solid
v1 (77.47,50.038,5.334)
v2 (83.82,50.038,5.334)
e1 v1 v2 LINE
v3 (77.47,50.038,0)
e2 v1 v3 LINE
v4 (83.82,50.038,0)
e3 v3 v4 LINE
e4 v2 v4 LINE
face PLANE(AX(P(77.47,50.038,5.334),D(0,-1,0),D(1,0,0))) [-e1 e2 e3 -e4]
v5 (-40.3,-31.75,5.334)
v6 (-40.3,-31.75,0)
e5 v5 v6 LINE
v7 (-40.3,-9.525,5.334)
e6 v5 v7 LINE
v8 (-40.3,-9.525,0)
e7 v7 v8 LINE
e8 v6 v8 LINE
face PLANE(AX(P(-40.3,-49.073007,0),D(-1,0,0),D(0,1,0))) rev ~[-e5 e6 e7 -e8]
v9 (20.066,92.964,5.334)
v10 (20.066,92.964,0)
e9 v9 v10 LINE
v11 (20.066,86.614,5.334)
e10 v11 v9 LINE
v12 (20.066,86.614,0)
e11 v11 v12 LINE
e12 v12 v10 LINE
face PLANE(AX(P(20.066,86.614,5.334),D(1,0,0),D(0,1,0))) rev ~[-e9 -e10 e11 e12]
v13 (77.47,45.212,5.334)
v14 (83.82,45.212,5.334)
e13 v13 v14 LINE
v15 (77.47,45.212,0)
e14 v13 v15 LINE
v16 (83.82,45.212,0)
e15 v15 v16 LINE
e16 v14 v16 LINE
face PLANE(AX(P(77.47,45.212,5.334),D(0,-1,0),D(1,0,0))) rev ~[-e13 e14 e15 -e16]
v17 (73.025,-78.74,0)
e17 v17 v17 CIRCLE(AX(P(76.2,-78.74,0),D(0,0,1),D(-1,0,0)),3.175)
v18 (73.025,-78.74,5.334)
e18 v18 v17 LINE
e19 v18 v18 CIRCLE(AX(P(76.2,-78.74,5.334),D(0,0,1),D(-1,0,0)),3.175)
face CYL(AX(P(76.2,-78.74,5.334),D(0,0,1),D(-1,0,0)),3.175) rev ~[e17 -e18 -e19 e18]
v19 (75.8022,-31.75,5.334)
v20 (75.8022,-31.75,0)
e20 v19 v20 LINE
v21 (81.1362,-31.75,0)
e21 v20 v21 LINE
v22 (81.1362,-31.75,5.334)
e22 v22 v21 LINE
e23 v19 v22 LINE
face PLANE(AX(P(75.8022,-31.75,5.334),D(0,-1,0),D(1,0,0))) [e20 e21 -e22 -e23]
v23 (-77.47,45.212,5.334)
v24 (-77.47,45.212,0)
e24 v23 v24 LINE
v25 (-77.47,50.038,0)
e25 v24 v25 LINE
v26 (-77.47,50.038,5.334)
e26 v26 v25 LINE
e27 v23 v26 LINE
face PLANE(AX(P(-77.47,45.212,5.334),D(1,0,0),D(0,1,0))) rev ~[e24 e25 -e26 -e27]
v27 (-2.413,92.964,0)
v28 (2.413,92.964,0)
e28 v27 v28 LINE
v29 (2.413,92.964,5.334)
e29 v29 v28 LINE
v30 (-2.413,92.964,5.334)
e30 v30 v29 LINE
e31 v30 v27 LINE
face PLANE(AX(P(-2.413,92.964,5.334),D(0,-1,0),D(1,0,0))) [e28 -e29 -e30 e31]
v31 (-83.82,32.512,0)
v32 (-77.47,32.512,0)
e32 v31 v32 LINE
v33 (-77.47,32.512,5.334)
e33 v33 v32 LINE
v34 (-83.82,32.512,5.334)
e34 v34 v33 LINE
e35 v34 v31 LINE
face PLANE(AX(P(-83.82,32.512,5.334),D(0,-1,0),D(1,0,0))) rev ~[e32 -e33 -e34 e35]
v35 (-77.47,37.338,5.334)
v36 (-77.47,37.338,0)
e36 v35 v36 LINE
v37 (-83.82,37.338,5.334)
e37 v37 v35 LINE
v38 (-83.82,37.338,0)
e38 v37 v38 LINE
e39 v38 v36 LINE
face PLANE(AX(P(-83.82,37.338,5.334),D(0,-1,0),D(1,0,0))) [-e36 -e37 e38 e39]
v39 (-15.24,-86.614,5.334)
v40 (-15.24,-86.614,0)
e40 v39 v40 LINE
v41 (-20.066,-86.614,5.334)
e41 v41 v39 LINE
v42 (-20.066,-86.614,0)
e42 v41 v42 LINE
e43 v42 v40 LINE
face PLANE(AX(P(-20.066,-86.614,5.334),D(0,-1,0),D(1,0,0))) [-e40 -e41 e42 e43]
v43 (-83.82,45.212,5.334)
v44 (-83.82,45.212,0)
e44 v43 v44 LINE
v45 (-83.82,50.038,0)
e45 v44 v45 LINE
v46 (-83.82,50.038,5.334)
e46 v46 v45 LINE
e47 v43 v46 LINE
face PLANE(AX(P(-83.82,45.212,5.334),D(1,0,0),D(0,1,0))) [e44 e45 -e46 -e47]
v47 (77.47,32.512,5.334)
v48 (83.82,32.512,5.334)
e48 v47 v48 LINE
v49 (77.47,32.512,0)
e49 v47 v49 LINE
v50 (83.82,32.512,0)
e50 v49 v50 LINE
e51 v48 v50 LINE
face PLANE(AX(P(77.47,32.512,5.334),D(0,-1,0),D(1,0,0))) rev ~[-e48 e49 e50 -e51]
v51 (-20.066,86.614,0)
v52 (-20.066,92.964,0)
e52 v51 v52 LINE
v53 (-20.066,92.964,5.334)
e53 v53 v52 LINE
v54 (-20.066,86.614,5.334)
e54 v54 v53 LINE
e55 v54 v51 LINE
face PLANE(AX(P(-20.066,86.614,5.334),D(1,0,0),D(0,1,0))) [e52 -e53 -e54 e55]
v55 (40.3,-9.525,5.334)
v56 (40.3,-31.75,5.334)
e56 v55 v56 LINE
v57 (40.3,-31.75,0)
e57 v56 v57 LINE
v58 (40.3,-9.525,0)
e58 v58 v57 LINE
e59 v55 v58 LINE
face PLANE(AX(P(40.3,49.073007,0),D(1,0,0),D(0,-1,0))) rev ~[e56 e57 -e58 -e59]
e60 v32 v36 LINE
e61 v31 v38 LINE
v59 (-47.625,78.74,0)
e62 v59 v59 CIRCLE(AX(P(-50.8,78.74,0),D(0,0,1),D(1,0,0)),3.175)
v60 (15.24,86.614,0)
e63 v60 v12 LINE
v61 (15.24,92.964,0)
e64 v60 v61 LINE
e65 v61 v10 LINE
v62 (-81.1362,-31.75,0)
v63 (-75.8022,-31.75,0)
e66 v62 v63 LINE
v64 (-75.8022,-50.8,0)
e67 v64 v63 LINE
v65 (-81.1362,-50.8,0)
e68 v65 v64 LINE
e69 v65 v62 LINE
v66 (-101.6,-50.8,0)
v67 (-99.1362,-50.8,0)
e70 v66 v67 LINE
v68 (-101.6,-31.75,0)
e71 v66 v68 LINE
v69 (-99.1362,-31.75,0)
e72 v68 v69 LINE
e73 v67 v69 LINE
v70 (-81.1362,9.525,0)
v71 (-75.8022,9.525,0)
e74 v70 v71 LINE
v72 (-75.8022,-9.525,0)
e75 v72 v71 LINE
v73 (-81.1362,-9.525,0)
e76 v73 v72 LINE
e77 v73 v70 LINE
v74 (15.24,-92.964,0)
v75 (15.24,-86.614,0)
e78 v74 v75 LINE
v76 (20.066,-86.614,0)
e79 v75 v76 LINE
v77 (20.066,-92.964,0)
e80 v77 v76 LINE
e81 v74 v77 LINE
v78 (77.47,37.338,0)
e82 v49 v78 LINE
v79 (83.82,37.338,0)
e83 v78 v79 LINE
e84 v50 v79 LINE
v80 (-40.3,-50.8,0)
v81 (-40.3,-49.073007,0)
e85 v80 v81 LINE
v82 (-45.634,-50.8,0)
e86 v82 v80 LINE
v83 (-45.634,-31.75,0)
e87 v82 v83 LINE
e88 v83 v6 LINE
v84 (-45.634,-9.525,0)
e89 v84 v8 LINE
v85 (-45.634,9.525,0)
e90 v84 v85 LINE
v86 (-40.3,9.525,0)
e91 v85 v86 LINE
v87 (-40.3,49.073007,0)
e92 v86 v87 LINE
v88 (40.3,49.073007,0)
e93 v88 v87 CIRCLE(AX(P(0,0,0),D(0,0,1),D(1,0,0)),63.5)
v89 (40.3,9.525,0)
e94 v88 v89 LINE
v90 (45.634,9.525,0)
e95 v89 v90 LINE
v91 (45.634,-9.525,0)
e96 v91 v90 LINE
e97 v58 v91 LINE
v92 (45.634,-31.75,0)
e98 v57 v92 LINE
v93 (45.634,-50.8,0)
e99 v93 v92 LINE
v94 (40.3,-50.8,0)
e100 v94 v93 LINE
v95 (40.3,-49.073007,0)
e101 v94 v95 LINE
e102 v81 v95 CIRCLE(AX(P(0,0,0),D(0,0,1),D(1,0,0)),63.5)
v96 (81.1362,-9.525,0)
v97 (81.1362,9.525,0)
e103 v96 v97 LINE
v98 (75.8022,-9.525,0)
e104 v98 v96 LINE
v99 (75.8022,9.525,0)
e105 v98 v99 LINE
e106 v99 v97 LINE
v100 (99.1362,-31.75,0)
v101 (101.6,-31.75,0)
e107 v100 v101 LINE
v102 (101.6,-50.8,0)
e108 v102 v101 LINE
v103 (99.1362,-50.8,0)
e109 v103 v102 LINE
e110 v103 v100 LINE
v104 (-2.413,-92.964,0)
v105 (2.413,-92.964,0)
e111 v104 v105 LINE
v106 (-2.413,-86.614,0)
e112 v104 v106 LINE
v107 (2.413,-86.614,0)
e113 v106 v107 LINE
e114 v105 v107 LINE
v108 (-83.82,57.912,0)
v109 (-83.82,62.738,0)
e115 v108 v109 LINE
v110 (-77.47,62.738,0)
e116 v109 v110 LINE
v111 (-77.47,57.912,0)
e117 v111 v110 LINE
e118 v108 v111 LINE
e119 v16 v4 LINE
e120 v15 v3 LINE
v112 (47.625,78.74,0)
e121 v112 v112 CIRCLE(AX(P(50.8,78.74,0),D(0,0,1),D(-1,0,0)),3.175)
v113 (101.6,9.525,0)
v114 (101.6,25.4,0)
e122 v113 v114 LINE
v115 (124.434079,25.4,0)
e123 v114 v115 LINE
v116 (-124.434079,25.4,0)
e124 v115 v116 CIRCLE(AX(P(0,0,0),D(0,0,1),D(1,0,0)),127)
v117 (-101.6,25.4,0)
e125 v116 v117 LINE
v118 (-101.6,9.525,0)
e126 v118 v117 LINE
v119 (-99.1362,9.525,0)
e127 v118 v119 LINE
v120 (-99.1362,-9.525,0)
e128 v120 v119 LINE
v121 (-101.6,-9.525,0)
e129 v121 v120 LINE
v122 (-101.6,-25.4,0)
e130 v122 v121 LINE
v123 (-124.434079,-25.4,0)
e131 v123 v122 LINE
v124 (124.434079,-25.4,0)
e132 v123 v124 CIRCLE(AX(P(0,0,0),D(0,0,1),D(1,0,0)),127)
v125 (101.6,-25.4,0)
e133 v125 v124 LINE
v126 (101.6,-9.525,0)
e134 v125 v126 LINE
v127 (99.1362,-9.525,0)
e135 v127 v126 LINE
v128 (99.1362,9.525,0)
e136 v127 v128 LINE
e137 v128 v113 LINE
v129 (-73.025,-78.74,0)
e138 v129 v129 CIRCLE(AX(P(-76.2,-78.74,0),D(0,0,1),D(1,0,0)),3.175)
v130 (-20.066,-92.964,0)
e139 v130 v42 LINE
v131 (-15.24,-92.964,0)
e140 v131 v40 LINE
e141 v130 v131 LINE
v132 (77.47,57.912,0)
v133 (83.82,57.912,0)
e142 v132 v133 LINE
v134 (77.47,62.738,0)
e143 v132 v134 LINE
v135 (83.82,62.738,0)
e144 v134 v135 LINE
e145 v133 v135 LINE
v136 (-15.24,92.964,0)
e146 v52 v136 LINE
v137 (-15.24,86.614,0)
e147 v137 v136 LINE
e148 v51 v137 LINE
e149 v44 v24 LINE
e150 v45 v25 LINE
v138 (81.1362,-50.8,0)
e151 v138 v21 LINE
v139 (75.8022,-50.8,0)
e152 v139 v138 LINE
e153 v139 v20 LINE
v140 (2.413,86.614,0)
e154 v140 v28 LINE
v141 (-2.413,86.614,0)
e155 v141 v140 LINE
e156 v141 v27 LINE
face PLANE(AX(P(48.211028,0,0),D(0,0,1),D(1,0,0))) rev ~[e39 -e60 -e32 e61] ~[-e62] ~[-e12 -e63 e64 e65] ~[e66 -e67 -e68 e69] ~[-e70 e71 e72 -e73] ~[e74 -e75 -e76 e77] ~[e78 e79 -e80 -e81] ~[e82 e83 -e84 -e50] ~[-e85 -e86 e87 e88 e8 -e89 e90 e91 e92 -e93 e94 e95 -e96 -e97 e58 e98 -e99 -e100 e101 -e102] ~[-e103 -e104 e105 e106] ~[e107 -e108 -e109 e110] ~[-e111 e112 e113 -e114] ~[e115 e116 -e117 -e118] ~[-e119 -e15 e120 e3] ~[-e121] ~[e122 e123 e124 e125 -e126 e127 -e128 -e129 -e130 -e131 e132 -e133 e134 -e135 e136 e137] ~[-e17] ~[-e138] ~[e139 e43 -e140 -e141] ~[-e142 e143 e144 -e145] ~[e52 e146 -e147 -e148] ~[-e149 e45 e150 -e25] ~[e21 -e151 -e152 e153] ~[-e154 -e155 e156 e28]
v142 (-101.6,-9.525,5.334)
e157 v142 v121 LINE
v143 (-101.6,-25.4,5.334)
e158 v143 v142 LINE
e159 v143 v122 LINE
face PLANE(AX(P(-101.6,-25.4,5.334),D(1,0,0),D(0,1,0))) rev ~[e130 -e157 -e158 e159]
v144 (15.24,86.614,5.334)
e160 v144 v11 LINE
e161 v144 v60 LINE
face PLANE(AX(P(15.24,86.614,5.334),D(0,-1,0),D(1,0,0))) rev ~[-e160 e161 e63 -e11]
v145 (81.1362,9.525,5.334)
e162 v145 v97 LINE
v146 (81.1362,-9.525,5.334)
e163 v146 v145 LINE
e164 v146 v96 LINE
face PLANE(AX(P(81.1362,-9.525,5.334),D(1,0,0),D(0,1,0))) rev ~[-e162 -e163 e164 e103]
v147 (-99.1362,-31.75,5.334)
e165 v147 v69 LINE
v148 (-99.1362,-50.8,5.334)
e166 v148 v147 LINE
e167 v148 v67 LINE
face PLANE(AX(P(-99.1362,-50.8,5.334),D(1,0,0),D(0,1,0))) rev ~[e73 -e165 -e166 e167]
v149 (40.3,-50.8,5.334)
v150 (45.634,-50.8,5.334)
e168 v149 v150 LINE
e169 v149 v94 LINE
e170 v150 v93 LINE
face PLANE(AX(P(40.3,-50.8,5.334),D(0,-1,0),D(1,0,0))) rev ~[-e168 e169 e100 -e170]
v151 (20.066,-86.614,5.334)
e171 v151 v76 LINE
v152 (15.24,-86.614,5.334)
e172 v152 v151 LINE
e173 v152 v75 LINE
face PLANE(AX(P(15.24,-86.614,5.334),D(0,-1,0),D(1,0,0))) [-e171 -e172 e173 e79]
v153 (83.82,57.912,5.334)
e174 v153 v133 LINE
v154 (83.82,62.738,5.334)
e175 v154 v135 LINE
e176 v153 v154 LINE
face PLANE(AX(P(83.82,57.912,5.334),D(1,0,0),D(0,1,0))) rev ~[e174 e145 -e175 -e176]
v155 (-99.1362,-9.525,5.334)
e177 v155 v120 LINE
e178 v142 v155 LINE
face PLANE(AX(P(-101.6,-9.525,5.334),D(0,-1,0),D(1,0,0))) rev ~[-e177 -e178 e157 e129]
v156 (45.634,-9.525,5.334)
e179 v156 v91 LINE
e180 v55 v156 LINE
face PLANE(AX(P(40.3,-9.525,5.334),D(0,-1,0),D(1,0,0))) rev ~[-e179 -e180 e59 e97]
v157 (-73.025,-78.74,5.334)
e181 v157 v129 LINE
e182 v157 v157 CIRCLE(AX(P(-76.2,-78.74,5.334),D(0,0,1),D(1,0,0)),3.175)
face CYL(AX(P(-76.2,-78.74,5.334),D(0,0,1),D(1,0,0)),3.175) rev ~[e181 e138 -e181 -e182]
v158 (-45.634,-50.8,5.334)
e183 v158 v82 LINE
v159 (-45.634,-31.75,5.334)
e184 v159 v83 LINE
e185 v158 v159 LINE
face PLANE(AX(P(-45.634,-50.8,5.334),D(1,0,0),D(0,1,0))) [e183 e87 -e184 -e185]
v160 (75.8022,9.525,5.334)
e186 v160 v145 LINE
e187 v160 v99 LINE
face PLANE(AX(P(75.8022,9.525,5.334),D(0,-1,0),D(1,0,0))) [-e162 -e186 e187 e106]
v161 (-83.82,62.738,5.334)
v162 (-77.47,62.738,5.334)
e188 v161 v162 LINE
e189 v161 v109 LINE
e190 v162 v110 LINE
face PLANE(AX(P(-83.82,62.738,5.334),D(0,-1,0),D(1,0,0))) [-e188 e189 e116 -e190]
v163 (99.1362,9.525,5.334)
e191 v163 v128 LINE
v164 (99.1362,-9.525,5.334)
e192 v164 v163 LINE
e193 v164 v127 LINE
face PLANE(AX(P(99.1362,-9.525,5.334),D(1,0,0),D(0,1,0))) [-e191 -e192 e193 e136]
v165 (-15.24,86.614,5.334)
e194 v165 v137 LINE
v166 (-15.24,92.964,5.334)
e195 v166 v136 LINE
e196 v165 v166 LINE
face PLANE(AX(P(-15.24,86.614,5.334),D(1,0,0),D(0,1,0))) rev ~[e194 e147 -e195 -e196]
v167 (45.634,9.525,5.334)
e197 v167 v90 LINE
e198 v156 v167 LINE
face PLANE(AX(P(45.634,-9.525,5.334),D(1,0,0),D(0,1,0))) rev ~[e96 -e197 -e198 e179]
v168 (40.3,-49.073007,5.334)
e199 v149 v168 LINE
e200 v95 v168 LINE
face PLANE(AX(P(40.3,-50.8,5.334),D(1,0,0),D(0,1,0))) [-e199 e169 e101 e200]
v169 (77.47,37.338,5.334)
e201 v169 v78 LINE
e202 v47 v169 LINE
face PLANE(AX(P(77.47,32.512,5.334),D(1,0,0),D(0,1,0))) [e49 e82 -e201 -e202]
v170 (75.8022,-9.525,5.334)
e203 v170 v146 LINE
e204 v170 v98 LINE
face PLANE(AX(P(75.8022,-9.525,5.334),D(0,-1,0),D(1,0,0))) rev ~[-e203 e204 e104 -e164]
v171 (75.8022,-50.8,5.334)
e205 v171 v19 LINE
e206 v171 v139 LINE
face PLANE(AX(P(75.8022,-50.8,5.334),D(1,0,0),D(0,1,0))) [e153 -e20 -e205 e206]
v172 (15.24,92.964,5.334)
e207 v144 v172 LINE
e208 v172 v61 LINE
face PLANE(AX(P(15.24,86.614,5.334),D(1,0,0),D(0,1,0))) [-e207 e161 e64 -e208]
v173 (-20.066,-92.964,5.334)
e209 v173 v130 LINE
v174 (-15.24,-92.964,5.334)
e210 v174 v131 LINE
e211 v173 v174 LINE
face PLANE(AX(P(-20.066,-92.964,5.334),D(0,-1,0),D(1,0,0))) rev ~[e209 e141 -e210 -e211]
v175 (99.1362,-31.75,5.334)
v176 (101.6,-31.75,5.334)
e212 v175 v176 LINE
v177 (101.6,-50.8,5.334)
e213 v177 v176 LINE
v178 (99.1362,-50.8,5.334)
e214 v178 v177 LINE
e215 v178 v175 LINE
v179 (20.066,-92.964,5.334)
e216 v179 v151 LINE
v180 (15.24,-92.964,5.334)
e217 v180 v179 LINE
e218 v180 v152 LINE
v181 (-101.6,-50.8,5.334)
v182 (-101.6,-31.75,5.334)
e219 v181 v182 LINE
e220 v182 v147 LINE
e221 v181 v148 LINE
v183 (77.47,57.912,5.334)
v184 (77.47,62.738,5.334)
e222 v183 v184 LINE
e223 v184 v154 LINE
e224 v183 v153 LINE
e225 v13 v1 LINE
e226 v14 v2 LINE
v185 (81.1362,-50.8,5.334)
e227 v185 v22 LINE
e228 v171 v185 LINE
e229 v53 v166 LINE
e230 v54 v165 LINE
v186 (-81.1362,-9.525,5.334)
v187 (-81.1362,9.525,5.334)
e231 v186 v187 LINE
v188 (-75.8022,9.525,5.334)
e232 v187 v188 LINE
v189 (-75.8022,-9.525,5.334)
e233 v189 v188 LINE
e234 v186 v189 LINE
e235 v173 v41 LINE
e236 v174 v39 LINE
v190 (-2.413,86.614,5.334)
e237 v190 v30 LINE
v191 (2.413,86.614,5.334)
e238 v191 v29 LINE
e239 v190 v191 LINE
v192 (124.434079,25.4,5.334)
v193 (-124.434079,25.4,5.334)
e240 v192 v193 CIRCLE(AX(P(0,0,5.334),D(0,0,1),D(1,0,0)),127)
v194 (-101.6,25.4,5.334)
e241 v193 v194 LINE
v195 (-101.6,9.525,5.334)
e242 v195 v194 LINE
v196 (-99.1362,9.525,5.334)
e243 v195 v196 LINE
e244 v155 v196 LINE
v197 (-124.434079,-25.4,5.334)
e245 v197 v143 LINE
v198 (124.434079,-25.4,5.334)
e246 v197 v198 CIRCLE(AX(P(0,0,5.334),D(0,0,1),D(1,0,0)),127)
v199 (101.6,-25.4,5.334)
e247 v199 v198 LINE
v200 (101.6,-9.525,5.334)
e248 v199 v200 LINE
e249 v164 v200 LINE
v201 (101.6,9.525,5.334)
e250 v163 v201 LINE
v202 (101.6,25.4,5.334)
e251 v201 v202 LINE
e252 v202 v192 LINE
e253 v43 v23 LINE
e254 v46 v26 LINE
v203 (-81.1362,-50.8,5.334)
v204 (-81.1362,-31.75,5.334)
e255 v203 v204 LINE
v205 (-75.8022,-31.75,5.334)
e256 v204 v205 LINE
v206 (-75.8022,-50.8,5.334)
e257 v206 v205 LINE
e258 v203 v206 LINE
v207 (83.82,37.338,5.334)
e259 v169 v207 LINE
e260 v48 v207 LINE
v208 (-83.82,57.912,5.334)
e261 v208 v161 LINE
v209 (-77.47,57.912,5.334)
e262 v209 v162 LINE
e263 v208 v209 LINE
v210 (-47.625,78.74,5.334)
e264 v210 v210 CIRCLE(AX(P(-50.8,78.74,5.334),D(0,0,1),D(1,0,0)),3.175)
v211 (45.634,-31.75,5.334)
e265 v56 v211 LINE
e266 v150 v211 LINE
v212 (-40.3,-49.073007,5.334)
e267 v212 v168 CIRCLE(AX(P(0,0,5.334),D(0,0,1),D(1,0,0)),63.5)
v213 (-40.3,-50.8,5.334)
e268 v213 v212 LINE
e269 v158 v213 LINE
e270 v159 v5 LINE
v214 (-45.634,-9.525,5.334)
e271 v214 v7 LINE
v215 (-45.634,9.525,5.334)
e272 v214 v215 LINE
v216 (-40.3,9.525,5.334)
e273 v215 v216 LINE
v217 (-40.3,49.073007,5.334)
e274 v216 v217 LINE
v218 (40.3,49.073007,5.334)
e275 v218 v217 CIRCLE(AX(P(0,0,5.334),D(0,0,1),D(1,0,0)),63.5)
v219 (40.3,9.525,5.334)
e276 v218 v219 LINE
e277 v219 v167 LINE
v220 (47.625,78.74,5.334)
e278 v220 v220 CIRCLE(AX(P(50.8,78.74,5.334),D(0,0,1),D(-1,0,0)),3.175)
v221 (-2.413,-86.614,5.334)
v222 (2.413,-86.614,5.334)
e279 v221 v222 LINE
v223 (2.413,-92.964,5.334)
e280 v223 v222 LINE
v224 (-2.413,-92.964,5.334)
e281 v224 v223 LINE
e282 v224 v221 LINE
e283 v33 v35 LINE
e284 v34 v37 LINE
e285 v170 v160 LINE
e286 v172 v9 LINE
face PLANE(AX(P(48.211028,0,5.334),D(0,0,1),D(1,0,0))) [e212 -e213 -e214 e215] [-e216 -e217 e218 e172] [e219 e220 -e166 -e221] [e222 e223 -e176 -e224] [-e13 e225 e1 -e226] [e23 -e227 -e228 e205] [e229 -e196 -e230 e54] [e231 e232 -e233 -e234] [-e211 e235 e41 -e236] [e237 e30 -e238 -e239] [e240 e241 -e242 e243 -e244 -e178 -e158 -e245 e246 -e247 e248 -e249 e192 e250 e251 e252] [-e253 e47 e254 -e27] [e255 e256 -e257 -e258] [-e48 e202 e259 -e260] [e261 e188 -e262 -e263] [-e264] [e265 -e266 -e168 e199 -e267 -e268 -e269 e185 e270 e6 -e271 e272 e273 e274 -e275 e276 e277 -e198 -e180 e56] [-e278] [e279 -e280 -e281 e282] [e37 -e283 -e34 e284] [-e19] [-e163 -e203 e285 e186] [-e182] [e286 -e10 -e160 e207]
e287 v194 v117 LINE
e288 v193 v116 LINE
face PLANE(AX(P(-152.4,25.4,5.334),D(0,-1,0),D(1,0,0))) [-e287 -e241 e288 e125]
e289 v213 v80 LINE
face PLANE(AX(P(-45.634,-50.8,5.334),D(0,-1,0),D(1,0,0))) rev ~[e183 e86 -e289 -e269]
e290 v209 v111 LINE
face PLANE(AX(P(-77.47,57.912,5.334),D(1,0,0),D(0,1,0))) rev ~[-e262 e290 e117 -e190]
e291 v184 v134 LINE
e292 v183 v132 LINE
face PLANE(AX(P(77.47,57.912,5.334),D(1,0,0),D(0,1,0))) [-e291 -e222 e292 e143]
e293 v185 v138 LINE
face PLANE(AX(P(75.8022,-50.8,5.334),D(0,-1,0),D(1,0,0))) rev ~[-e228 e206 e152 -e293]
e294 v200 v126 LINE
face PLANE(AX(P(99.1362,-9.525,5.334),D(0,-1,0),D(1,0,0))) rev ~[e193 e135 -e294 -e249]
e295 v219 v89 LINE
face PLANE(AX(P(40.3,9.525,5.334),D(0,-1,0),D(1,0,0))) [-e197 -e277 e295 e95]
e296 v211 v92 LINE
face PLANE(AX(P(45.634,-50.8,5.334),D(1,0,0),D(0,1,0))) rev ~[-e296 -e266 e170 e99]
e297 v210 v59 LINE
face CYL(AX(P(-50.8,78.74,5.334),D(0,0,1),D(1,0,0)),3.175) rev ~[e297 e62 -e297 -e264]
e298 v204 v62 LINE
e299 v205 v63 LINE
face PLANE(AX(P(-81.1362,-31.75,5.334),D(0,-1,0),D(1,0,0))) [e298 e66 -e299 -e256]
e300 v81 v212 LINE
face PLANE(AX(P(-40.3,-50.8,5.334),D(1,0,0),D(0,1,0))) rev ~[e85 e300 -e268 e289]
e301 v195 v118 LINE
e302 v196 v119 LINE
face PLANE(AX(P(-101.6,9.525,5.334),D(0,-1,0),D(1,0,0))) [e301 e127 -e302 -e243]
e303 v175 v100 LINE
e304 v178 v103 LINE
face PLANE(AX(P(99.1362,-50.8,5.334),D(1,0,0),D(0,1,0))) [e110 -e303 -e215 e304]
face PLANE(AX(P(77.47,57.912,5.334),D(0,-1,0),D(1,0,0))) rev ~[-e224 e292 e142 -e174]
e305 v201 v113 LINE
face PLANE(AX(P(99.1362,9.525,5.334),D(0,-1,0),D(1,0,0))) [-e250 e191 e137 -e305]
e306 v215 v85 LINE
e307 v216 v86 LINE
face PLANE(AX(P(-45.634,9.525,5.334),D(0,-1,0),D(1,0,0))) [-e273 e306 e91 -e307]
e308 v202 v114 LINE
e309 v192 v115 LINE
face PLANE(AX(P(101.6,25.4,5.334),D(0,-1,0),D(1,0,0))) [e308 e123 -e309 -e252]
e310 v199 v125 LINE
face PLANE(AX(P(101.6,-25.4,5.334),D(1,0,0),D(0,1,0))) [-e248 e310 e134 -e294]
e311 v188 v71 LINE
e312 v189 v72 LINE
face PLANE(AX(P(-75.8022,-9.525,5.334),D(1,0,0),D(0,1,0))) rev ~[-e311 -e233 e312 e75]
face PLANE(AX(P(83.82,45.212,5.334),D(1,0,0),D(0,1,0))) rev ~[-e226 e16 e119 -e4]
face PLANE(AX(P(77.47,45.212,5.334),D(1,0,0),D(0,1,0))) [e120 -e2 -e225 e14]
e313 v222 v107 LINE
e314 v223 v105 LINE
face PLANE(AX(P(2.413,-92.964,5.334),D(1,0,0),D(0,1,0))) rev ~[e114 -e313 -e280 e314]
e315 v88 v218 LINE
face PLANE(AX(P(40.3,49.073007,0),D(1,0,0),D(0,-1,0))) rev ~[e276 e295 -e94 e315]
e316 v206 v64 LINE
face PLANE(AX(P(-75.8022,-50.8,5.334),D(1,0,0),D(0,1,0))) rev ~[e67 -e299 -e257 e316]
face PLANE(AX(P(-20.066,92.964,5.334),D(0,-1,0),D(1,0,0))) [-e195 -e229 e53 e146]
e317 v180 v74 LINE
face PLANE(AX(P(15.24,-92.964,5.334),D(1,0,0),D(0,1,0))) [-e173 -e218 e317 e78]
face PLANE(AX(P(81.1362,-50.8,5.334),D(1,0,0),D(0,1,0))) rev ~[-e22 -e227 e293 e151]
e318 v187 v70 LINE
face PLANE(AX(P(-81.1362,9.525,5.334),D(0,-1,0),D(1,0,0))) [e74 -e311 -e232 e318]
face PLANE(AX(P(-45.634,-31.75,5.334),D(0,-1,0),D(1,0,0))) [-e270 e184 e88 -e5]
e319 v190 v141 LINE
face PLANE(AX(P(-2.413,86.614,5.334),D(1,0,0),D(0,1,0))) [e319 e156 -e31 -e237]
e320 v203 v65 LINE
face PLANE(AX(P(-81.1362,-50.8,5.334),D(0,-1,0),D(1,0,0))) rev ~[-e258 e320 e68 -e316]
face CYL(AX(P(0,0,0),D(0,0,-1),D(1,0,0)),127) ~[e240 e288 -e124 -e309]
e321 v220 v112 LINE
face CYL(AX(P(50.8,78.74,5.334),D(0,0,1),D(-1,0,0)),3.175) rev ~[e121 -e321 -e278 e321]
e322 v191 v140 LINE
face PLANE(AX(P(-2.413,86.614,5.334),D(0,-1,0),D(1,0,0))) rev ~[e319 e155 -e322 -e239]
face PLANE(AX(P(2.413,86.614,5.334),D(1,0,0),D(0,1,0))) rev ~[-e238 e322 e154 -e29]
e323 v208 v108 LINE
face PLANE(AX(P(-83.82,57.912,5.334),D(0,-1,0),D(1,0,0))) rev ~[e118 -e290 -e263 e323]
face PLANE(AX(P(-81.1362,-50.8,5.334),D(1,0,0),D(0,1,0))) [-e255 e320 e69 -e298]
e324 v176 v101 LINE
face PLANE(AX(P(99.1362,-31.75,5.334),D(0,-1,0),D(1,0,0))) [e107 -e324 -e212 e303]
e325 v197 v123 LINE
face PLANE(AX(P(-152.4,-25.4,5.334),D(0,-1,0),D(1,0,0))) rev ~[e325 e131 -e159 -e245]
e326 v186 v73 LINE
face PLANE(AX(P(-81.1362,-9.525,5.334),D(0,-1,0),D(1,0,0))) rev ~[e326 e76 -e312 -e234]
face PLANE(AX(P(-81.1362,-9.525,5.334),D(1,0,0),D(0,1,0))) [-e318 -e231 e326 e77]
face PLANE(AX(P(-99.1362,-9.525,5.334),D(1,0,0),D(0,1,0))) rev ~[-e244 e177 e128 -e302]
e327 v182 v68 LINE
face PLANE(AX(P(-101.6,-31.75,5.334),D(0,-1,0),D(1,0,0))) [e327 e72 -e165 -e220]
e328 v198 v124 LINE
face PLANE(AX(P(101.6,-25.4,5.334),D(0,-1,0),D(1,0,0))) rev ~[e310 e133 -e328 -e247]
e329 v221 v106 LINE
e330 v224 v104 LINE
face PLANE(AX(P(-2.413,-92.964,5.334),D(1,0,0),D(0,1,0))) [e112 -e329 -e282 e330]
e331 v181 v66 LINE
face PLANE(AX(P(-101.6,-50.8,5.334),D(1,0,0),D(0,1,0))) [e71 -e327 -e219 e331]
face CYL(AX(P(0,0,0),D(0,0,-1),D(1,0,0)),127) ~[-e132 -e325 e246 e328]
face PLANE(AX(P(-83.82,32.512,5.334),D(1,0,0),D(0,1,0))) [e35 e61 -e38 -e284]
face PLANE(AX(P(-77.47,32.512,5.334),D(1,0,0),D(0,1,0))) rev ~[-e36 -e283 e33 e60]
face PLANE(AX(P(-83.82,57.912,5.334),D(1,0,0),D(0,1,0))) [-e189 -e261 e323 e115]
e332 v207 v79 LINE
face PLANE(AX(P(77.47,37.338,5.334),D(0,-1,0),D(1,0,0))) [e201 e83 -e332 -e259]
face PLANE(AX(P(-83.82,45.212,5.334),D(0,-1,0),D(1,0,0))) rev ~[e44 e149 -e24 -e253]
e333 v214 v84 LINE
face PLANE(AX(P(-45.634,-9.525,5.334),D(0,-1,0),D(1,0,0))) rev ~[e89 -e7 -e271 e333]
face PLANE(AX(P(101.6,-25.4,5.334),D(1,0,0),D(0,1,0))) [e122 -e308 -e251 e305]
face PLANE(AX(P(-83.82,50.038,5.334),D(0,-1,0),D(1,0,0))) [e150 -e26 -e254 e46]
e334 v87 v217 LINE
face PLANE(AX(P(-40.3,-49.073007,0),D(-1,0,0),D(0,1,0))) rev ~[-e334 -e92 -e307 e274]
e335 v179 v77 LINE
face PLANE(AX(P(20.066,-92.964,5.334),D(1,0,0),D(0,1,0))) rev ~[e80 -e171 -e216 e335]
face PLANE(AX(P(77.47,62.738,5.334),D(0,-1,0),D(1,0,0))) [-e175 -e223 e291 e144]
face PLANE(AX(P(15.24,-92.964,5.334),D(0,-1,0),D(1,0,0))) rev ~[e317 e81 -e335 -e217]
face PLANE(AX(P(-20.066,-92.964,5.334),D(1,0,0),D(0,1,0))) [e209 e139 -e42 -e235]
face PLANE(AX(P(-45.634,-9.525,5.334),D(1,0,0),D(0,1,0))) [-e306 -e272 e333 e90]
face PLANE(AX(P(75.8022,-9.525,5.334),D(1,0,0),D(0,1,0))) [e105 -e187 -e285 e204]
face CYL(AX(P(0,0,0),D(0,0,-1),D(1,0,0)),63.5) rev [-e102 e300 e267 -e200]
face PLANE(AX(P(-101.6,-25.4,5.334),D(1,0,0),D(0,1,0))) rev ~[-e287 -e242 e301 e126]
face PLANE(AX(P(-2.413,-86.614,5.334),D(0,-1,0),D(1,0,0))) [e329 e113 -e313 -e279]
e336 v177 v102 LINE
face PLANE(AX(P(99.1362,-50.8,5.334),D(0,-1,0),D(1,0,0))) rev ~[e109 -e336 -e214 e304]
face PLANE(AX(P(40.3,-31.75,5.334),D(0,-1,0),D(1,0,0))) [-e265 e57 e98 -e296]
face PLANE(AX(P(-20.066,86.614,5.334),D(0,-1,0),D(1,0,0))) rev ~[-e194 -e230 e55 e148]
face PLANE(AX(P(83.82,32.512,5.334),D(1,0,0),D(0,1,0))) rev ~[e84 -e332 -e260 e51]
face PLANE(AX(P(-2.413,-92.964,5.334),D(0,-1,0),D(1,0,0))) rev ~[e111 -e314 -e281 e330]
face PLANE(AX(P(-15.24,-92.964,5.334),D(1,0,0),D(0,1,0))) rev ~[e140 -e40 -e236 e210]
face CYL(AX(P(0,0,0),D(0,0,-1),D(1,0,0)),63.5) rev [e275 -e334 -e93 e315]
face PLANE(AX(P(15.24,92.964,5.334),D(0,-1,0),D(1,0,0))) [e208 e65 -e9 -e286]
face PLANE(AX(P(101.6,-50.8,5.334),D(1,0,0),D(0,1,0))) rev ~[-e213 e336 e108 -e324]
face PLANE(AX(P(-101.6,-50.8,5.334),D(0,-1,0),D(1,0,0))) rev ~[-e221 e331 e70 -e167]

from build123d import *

# Parameters (mm, degrees)
SKETCH1_R           = 127
SKETCH1_R_2         = 63.5
BOSS_EXTRUDE1_DEPTH = 5.334
SKETCH2_W           = 50.8
SKETCH2_H           = 50.8
WHEELSCUT_DEPTH     = 180.684310823
SKETCH3_W           = 4.826
SKETCH3_H           = 6.35
TOPBOTTOMCUT_DEPTH  = 178.879992006
SKETCH4_W           = 6.35
SKETCH4_H           = 4.826
SIDECUT_DEPTH       = 178.879992006
SKETCH14_R          = 3.175
BOLTHOLES_DEPTH     = 178.879992006
SKETCH15_W          = 2.4638
SKETCH15_H          = 19.05
SKETCH15_W_2        = 5.334
MOTORMOUNTS_DEPTH   = 178.879992006


with BuildPart() as part:
    # Sketch1 → Boss-Extrude1 (new body)
    # profile 1 of 3: a face of its own
    with BuildSketch(Plane.XY):
        Circle(SKETCH1_R)
        Circle(SKETCH1_R_2, mode=Mode.SUBTRACT)
    # profile 2 of 3: a face of its own
    with BuildSketch(Plane.XY):
        with BuildLine():
            Line((-40.299999918, -49.073006904), (-40.299999918, 49.073006904))
            ThreePointArc((-40.299999918, 49.073006904), (-63.5, 0), (-40.299999918, -49.073006904))
        make_face()
    # profile 3 of 3: a face of its own
    with BuildSketch(Plane.XY):
        with BuildLine():
            ThreePointArc((63.5, 0), (57.407752067, 27.140375874), (40.299999918, 49.073006904))
            Line((40.299999918, 49.073006904), (40.299999918, -49.073006904))
            ThreePointArc((40.299999918, -49.073006904), (57.407752067, -27.140375874), (63.5, 0))
        make_face()
    extrude(amount=BOSS_EXTRUDE1_DEPTH)

    # Sketch2 → WheelsCut (cut, through all)
    with BuildSketch(Plane.XY.offset(5.334)):
        with Locations((-127, 0)):
            Rectangle(SKETCH2_W, SKETCH2_H)
        with Locations((127, 0)):
            Rectangle(SKETCH2_W, SKETCH2_H)
    extrude(amount=-WHEELSCUT_DEPTH, mode=Mode.SUBTRACT)

    # Sketch3 → TopBottomCut (cut, through all)
    with BuildSketch(Plane.XY.offset(5.334)):
        with Locations((-17.653, 89.789)):
            Rectangle(SKETCH3_W, SKETCH3_H)
        with Locations((17.653, 89.789)):
            Rectangle(SKETCH3_W, SKETCH3_H)
        with Locations((0, -89.789)):
            Rectangle(SKETCH3_W, SKETCH3_H)
        with Locations((0, 89.789)):
            Rectangle(SKETCH3_W, SKETCH3_H)
        with Locations((17.653, -89.789)):
            Rectangle(SKETCH3_W, SKETCH3_H)
        with Locations((-17.653, -89.789)):
            Rectangle(SKETCH3_W, SKETCH3_H)
    extrude(amount=-TOPBOTTOMCUT_DEPTH, mode=Mode.SUBTRACT)

    # Sketch4 → SideCut (cut, through all)
    with BuildSketch(Plane.XY.offset(5.334)):
        with Locations((-80.645, 47.625)):
            Rectangle(SKETCH4_W, SKETCH4_H)
        with Locations((-80.645, 34.925)):
            Rectangle(SKETCH4_W, SKETCH4_H)
        with Locations((-80.645, 60.325)):
            Rectangle(SKETCH4_W, SKETCH4_H)
        with Locations((80.645, 60.325)):
            Rectangle(SKETCH4_W, SKETCH4_H)
        with Locations((80.645, 47.625)):
            Rectangle(SKETCH4_W, SKETCH4_H)
        with Locations((80.645, 34.925)):
            Rectangle(SKETCH4_W, SKETCH4_H)
    extrude(amount=-SIDECUT_DEPTH, mode=Mode.SUBTRACT)

    # Sketch14 → BoltHoles (cut, through all)
    with BuildSketch(Plane.XY.offset(5.334)):
        with Locations((-76.2, -78.74)):
            Circle(SKETCH14_R)
        with Locations((-50.8, 78.74)):
            Circle(SKETCH14_R)
        with Locations(Location((76.2, -78.74, 0), (0, 0, 180))):
            Circle(SKETCH14_R)
        with Locations(Location((50.8, 78.74, 0), (0, 0, 180))):
            Circle(SKETCH14_R)
    extrude(amount=-BOLTHOLES_DEPTH, mode=Mode.SUBTRACT)

    # Sketch15 → MotorMounts (cut, through all)
    with BuildSketch(Plane.XY.offset(5.334)):
        with Locations((-100.3681, -41.275)):
            Rectangle(SKETCH15_W, SKETCH15_H)
        with Locations((-100.3681, 0)):
            Rectangle(SKETCH15_W, SKETCH15_H)
        with Locations((-78.469199932, 0)):
            Rectangle(SKETCH15_W_2, SKETCH15_H)
        with Locations((-42.966999918, 0)):
            Rectangle(SKETCH15_W_2, SKETCH15_H)
        with Locations((-78.469199932, -41.275)):
            Rectangle(SKETCH15_W_2, SKETCH15_H)
        with Locations((-42.966999918, -41.275)):
            Rectangle(SKETCH15_W_2, SKETCH15_H)
        with Locations((42.966999918, -41.275)):
            Rectangle(SKETCH15_W_2, SKETCH15_H)
        with Locations((78.469199932, -41.275)):
            Rectangle(SKETCH15_W_2, SKETCH15_H)
        with Locations((100.3681, -41.275)):
            Rectangle(SKETCH15_W, SKETCH15_H)
        with Locations((42.966999918, 0)):
            Rectangle(SKETCH15_W_2, SKETCH15_H)
        with Locations((78.469199932, 0)):
            Rectangle(SKETCH15_W_2, SKETCH15_H)
        with Locations((100.3681, 0)):
            Rectangle(SKETCH15_W, SKETCH15_H)
    extrude(amount=-MOTORMOUNTS_DEPTH, mode=Mode.SUBTRACT)


solid = part.part
